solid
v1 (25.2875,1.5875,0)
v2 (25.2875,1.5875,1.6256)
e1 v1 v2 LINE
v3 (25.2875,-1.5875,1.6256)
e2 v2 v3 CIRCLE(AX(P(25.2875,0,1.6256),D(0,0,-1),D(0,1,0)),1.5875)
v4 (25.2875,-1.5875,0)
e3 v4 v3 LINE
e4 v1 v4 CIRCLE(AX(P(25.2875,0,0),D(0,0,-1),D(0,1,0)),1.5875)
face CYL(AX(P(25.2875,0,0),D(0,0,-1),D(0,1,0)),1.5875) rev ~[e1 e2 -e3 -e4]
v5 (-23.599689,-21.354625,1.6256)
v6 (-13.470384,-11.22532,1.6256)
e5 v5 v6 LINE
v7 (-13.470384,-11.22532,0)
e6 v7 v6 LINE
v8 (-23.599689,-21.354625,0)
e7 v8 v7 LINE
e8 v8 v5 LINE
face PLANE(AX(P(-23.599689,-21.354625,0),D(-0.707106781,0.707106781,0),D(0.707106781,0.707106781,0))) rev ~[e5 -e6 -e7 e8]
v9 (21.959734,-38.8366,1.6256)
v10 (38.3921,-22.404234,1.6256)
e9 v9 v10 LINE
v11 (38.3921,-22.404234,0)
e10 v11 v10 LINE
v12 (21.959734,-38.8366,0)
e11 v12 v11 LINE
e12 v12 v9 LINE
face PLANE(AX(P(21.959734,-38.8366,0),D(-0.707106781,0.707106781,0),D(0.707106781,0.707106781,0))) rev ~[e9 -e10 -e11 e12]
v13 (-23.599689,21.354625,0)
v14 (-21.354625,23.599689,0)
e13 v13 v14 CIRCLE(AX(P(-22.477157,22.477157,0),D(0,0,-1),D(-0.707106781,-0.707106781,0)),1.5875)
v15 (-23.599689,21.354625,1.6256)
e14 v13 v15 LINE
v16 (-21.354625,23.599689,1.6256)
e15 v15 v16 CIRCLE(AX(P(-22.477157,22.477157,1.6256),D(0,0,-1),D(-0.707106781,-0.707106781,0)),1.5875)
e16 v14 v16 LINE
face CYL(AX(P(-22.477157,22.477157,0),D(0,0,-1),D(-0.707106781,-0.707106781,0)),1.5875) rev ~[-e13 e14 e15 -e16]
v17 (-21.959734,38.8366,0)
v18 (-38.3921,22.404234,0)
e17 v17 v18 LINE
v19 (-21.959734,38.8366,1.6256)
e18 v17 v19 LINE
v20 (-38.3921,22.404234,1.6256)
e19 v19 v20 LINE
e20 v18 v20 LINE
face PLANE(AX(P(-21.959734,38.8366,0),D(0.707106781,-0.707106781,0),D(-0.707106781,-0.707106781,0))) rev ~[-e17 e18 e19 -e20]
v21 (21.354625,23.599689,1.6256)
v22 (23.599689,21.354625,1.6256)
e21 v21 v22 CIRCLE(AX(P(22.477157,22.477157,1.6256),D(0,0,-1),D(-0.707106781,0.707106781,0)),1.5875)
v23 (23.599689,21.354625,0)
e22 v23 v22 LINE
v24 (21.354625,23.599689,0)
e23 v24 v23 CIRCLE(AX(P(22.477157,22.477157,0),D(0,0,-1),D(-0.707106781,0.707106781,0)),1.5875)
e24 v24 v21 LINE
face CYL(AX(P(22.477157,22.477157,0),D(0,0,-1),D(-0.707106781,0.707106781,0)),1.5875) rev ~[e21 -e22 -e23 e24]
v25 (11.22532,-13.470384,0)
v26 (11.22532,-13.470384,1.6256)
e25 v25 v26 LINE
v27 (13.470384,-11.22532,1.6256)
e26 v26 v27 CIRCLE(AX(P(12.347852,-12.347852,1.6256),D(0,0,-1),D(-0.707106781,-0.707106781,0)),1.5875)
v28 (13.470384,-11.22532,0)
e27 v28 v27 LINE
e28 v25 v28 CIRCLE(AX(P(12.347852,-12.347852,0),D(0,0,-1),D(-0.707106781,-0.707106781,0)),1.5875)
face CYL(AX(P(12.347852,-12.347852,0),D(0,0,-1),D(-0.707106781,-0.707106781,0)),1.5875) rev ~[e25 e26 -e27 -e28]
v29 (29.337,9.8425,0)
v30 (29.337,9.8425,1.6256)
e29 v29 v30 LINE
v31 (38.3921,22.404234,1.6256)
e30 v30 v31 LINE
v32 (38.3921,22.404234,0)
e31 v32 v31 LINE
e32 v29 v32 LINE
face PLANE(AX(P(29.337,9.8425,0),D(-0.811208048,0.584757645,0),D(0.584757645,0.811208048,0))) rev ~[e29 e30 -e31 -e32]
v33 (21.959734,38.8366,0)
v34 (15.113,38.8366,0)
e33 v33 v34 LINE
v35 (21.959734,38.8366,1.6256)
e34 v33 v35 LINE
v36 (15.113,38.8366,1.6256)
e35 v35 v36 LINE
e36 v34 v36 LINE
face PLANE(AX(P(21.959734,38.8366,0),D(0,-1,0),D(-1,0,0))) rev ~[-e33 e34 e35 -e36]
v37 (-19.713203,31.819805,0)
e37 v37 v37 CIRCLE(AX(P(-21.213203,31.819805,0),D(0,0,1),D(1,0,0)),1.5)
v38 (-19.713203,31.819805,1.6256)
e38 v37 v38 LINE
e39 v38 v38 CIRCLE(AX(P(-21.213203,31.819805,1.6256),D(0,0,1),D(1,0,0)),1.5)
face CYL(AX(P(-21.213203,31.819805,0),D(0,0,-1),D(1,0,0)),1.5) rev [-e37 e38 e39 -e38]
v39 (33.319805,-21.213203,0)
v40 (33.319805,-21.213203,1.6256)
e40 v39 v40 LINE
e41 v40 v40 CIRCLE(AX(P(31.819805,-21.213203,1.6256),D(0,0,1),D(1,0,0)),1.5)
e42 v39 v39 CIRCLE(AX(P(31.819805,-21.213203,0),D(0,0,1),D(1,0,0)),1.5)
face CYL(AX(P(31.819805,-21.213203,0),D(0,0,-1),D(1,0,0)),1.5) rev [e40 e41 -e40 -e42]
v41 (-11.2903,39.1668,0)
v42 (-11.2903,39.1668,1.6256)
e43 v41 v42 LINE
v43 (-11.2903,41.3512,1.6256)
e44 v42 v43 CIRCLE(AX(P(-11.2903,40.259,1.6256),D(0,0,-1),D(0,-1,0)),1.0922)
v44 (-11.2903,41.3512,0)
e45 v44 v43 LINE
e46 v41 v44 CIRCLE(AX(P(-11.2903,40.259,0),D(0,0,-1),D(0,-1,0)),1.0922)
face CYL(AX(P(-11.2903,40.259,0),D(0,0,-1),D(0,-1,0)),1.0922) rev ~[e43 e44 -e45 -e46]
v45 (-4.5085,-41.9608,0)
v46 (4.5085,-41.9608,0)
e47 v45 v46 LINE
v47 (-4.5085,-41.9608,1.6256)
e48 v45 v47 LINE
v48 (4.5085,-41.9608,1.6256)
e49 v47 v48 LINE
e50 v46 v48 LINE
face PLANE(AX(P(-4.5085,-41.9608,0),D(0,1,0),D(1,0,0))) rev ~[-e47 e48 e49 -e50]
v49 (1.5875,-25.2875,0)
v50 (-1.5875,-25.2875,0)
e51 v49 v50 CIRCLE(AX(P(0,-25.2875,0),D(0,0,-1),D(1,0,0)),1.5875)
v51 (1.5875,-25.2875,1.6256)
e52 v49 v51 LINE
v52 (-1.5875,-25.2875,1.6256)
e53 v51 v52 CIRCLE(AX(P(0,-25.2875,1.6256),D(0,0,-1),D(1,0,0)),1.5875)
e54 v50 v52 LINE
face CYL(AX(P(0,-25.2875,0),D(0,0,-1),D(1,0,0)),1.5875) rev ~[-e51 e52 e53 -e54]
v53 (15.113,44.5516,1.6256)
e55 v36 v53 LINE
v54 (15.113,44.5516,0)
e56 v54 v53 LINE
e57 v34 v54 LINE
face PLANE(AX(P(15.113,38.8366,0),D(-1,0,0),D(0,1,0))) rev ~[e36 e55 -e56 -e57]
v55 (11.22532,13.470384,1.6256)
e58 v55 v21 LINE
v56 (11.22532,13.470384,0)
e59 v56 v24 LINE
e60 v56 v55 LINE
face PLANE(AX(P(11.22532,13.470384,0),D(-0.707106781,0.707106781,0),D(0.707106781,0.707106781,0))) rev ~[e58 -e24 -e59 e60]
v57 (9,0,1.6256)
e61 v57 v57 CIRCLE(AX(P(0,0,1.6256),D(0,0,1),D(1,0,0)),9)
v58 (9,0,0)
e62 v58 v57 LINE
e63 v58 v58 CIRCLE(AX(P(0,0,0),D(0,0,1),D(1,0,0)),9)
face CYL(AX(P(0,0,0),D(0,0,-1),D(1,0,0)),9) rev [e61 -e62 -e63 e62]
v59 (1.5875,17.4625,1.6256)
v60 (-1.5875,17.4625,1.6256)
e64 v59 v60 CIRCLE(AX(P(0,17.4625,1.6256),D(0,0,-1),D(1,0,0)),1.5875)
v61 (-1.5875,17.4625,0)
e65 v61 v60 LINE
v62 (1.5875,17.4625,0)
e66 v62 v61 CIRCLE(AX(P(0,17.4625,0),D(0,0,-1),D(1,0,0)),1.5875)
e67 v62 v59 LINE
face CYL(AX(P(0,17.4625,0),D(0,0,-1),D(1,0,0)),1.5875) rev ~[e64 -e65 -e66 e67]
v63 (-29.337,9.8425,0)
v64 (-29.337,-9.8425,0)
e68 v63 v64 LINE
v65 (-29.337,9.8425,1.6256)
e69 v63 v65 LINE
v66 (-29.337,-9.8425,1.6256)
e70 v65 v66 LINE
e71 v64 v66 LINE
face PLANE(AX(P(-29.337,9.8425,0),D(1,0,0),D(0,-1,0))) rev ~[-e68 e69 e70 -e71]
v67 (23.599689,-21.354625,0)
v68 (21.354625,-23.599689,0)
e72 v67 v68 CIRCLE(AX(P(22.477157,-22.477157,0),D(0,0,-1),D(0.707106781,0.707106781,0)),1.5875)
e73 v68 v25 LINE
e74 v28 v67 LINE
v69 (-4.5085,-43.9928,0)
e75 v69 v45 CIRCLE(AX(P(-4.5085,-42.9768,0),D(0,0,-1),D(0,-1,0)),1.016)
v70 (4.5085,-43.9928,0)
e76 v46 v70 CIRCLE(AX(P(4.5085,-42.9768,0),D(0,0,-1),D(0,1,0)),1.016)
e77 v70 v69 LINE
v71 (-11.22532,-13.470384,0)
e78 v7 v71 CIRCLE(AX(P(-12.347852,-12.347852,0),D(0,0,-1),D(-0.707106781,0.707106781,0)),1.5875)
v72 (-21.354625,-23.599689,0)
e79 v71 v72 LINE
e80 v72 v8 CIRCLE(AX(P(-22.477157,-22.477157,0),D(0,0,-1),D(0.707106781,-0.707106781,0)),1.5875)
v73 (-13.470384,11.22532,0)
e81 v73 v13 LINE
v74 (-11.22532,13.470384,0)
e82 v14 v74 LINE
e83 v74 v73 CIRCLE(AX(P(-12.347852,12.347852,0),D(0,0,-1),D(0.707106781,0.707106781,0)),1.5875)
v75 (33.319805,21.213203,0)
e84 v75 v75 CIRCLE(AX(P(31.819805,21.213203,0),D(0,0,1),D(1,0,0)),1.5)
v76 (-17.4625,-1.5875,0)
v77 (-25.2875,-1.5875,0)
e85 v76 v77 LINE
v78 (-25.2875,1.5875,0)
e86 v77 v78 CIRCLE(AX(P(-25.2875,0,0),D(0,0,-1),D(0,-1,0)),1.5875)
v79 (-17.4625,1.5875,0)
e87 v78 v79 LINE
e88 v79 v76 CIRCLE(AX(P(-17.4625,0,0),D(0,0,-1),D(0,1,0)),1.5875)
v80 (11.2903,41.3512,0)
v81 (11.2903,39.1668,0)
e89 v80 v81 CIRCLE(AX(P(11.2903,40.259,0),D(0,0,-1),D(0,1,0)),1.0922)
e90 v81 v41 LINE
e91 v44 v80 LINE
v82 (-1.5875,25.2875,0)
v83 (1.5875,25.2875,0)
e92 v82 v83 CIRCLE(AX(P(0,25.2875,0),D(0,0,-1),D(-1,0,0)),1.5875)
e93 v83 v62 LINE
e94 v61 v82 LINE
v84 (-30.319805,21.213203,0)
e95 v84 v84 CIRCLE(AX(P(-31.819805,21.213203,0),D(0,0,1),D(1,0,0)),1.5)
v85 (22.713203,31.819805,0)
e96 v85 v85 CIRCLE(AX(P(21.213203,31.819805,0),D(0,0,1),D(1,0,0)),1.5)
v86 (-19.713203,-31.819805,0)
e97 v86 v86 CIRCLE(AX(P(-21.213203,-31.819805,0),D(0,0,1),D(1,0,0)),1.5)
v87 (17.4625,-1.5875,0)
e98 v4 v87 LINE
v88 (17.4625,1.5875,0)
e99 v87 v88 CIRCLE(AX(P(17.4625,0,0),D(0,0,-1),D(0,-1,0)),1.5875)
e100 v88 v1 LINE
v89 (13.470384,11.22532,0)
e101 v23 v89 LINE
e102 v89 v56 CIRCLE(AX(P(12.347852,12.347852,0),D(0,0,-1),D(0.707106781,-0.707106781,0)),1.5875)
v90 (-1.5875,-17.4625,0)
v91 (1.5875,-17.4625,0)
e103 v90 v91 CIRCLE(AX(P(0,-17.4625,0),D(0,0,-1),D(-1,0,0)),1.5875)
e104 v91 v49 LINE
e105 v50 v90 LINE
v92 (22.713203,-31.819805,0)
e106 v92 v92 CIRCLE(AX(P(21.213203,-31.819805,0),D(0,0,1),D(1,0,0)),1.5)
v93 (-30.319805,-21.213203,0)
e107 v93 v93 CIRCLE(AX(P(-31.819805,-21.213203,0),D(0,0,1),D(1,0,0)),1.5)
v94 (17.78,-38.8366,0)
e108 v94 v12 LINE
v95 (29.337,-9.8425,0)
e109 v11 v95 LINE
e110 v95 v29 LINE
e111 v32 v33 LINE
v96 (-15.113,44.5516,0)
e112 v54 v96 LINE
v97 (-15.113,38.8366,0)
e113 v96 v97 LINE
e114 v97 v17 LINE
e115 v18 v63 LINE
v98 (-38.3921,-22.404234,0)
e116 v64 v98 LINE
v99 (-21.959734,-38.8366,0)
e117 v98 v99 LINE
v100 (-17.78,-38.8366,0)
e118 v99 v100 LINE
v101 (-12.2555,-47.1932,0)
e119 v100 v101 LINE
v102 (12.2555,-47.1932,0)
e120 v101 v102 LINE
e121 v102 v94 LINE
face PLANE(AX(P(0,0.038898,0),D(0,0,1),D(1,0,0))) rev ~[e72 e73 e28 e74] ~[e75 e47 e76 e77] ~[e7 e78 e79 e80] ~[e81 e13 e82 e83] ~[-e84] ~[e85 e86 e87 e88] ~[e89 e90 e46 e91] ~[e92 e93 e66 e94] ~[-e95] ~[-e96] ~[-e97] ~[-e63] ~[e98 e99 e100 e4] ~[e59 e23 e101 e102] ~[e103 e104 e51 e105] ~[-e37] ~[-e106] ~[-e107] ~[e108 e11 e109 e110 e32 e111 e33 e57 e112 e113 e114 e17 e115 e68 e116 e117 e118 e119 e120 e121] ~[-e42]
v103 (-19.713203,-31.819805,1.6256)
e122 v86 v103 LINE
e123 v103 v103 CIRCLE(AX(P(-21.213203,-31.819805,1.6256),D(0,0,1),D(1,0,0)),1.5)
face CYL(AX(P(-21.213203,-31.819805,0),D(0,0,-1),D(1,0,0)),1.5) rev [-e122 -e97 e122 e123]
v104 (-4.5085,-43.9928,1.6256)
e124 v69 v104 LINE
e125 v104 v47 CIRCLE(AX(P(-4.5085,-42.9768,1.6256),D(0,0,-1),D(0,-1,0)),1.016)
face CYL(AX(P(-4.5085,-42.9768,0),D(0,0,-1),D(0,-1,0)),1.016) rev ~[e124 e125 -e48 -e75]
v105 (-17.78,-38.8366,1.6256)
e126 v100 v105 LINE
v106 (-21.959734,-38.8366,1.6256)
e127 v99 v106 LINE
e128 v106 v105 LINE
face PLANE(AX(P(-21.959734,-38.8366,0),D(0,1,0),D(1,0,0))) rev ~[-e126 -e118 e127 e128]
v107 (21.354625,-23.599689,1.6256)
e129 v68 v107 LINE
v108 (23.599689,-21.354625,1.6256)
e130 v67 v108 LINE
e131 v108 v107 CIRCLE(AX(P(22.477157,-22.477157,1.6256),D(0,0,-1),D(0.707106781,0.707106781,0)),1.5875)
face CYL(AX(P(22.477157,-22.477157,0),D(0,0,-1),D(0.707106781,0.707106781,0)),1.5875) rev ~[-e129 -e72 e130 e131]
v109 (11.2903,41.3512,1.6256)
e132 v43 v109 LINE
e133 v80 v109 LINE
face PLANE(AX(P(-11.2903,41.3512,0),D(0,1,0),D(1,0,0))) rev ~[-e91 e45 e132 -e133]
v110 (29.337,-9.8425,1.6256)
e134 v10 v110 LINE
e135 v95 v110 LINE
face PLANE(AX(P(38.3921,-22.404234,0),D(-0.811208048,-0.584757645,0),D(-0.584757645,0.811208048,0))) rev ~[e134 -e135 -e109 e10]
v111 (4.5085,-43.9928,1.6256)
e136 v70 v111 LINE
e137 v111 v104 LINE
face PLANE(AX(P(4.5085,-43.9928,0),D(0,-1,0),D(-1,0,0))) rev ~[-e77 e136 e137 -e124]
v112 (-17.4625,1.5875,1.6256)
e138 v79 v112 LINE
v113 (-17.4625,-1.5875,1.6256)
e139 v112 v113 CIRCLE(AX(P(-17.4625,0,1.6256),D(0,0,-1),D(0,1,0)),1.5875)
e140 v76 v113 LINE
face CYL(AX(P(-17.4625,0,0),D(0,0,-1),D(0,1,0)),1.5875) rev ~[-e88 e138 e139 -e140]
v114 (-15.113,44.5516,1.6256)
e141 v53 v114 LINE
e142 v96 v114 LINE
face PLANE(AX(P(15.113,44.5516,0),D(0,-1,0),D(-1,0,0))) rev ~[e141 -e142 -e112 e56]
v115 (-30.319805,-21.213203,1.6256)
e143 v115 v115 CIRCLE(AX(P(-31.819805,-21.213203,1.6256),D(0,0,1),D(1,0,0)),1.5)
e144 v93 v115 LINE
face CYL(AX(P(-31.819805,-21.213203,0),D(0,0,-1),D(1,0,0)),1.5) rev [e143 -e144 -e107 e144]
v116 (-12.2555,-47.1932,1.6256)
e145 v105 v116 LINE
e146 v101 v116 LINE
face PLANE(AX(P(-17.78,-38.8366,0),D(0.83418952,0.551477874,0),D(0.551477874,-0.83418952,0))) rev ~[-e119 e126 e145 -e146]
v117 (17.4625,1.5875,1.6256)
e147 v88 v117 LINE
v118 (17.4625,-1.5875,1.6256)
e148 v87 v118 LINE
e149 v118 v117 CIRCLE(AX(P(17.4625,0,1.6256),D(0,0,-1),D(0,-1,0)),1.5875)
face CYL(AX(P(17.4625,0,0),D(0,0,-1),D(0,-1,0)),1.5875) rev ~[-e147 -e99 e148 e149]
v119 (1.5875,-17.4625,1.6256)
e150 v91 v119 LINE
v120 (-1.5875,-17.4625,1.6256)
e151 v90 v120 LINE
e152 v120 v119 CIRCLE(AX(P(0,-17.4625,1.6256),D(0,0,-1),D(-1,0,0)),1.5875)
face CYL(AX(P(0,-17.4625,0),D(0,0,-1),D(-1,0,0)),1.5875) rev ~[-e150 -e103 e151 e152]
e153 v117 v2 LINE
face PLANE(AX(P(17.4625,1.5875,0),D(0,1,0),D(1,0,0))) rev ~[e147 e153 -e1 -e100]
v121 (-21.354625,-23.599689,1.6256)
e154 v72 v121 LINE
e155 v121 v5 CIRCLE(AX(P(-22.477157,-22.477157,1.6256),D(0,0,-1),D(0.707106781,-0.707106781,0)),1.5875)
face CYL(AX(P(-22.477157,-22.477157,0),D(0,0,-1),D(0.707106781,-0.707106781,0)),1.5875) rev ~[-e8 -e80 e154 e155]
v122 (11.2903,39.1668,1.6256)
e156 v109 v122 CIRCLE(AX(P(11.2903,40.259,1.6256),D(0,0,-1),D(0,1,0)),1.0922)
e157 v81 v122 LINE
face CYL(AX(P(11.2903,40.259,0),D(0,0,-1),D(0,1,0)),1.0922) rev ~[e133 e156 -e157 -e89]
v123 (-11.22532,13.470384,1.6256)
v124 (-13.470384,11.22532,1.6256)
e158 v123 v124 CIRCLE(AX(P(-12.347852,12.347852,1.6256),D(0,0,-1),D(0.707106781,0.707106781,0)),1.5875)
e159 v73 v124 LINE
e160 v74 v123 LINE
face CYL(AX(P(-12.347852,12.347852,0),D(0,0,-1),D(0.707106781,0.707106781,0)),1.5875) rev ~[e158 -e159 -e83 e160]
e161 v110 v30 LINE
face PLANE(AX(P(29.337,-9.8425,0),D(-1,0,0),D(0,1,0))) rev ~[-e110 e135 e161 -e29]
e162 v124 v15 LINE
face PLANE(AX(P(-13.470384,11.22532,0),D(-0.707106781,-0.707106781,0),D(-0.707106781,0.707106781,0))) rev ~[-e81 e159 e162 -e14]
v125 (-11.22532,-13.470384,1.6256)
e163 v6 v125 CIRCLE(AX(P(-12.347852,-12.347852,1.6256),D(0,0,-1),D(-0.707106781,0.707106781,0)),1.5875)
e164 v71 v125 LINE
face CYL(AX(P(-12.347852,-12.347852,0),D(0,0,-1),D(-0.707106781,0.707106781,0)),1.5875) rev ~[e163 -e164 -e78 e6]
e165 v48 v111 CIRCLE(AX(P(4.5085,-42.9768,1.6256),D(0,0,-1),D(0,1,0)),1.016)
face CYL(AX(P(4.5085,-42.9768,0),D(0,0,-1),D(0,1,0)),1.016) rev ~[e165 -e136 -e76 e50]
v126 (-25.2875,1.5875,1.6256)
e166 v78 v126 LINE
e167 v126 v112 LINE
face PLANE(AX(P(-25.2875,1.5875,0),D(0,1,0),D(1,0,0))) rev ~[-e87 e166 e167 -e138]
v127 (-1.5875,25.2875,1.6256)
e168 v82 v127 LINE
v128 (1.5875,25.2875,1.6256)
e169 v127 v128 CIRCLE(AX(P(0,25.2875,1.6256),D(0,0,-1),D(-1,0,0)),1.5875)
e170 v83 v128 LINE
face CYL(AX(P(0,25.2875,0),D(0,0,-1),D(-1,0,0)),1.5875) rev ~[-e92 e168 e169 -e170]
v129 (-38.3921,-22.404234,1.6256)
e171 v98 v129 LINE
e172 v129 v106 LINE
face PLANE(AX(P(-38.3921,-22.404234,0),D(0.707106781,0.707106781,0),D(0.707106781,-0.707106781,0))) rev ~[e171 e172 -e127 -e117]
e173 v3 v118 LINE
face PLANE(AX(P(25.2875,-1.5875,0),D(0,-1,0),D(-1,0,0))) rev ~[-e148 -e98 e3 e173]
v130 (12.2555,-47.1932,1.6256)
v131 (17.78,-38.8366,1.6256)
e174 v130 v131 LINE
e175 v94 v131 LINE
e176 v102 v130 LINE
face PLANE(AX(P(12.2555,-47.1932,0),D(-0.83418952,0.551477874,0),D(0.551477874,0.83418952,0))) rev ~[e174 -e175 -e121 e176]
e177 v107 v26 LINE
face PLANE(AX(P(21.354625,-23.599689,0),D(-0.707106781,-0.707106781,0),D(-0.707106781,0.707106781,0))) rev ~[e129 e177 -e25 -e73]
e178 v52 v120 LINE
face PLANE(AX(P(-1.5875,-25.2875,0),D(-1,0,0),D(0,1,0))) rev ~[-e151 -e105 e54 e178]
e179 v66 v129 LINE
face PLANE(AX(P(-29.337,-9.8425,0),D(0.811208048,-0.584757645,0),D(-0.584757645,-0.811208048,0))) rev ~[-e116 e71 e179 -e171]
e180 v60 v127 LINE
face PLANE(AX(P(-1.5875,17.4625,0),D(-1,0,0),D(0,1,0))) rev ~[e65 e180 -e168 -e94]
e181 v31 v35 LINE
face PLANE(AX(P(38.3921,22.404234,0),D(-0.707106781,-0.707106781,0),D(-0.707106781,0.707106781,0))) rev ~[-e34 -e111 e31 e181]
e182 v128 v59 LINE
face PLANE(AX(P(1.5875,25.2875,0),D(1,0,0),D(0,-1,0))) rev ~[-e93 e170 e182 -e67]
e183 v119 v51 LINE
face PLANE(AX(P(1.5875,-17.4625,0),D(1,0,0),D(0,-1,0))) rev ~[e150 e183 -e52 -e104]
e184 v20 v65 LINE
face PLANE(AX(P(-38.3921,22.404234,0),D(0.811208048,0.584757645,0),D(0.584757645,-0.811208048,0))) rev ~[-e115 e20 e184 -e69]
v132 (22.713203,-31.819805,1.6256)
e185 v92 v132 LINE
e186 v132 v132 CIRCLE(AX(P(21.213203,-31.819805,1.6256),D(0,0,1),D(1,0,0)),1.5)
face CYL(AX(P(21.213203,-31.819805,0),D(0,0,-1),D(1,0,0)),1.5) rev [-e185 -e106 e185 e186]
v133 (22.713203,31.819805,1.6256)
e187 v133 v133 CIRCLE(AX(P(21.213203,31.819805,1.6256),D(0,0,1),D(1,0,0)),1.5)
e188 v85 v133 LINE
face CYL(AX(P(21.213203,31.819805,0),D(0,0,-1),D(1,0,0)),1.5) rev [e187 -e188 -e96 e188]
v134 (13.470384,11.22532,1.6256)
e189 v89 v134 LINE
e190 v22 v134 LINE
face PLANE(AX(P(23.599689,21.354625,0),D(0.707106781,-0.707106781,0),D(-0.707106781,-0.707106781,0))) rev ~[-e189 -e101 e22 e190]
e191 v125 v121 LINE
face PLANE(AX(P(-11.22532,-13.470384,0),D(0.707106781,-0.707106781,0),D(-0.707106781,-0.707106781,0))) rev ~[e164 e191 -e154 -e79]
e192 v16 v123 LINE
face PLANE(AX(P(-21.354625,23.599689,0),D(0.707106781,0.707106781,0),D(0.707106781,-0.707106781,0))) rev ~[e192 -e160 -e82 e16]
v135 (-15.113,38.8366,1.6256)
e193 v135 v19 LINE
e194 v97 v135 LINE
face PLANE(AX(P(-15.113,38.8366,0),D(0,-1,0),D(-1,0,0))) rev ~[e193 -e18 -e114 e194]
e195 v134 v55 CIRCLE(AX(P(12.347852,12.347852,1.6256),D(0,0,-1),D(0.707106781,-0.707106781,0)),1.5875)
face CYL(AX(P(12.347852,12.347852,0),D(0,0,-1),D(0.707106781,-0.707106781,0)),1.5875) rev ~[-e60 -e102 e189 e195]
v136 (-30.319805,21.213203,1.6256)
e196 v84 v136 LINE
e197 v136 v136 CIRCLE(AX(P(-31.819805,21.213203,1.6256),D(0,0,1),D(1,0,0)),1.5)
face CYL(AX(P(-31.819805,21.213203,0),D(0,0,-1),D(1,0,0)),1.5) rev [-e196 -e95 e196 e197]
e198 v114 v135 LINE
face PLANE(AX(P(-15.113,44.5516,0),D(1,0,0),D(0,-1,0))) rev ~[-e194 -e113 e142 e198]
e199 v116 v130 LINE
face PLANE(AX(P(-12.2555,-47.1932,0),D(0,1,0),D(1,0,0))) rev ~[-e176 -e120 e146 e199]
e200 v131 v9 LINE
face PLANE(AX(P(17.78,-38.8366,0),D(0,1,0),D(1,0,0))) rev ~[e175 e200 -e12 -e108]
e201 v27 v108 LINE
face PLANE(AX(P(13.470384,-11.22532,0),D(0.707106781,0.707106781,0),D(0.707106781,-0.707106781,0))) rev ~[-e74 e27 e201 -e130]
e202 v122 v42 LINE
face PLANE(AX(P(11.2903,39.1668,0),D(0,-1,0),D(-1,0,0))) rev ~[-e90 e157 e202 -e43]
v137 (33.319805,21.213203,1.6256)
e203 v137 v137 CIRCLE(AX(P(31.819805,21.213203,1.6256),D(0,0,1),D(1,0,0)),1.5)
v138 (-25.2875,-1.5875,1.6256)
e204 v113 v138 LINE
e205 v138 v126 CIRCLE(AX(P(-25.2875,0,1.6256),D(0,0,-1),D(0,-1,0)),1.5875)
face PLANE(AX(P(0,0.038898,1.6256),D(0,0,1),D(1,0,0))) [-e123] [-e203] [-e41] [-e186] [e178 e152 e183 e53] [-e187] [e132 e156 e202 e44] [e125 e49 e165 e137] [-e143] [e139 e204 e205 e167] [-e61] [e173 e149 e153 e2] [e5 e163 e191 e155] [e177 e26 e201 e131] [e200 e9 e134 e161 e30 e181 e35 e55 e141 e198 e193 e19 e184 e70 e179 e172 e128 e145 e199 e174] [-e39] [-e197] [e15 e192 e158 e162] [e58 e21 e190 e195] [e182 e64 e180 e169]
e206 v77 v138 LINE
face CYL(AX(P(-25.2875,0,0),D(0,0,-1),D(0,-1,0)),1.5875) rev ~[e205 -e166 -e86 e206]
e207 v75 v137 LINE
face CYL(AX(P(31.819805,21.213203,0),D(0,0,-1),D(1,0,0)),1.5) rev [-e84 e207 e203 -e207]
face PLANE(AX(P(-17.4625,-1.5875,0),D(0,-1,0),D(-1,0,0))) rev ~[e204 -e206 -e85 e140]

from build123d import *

# Parameters (mm, degrees)
F0_R     = 1.5
F0_R_2   = 9
F1_DEPTH = 1.6256


with BuildPart() as f1:
    # F0 (on Top) → F1 (new body)
    with BuildSketch(Plane.XY):
        Polygon((-29.337, 9.8425), (-29.337, -9.8425), (-38.3921, -22.404234), (-21.959734, -38.8366), (-17.78, -38.8366), (-12.2555, -47.1932), (0, -47.1932), (12.2555, -47.1932), (17.78, -38.8366), (21.959734, -38.8366), (38.3921, -22.404234), (29.337, -9.8425), (29.337, 9.8425), (38.3921, 22.404234), (21.959734, 38.8366), (15.113, 38.8366), (15.113, 44.5516), (0, 44.5516), (-15.113, 44.5516), (-15.113, 38.8366), (-21.959734, 38.8366), (-38.3921, 22.404234), align=None)
        with Locations((-21.213203, -31.819805)):
            Circle(F0_R, mode=Mode.SUBTRACT)
        with Locations((-31.819805, -21.213203)):
            Circle(F0_R, mode=Mode.SUBTRACT)
        with BuildLine():
            ThreePointArc((-21.354625, -23.599689), (-23.599689, -23.599689), (-23.599689, -21.354625))
            Line((-23.599689, -21.354625), (-13.470384, -11.22532))
            ThreePointArc((-13.470384, -11.22532), (-11.22532, -11.22532), (-11.22532, -13.470384))
            Line((-11.22532, -13.470384), (-21.354625, -23.599689))
        make_face(mode=Mode.SUBTRACT)
        with BuildLine():
            ThreePointArc((-4.5085, -43.9928), (-5.5245, -42.9768), (-4.5085, -41.9608))
            Line((-4.5085, -41.9608), (4.5085, -41.9608))
            ThreePointArc((4.5085, -41.9608), (5.5245, -42.9768), (4.5085, -43.9928))
            Line((4.5085, -43.9928), (-4.5085, -43.9928))
        make_face(mode=Mode.SUBTRACT)
        with Locations((21.213203, -31.819805)):
            Circle(F0_R, mode=Mode.SUBTRACT)
        with BuildLine():
            Line((1.5875, -17.4625), (1.5875, -25.2875))
            ThreePointArc((1.5875, -25.2875), (0, -26.875), (-1.5875, -25.2875))
            Line((-1.5875, -25.2875), (-1.5875, -17.4625))
            ThreePointArc((-1.5875, -17.4625), (0, -15.875), (1.5875, -17.4625))
        make_face(mode=Mode.SUBTRACT)
        with BuildLine():
            ThreePointArc((23.599689, -21.354625), (23.599689, -23.599689), (21.354625, -23.599689))
            Line((21.354625, -23.599689), (11.22532, -13.470384))
            ThreePointArc((11.22532, -13.470384), (11.22532, -11.22532), (13.470384, -11.22532))
            Line((13.470384, -11.22532), (23.599689, -21.354625))
        make_face(mode=Mode.SUBTRACT)
        with Locations((31.819805, -21.213203)):
            Circle(F0_R, mode=Mode.SUBTRACT)
        with BuildLine():
            Line((-17.4625, -1.5875), (-25.2875, -1.5875))
            ThreePointArc((-25.2875, -1.5875), (-26.875, 0), (-25.2875, 1.5875))
            Line((-25.2875, 1.5875), (-17.4625, 1.5875))
            ThreePointArc((-17.4625, 1.5875), (-15.875, 0), (-17.4625, -1.5875))
        make_face(mode=Mode.SUBTRACT)
        with Locations((-31.819805, 21.213203)):
            Circle(F0_R, mode=Mode.SUBTRACT)
        with BuildLine():
            Line((-13.470384, 11.22532), (-23.599689, 21.354625))
            ThreePointArc((-23.599689, 21.354625), (-23.599689, 23.599689), (-21.354625, 23.599689))
            Line((-21.354625, 23.599689), (-11.22532, 13.470384))
            ThreePointArc((-11.22532, 13.470384), (-11.22532, 11.22532), (-13.470384, 11.22532))
        make_face(mode=Mode.SUBTRACT)
        with Locations((-21.213203, 31.819805)):
            Circle(F0_R, mode=Mode.SUBTRACT)
        Circle(F0_R_2, mode=Mode.SUBTRACT)
        with BuildLine():
            Line((-1.5875, 17.4625), (-1.5875, 25.2875))
            ThreePointArc((-1.5875, 25.2875), (0, 26.875), (1.5875, 25.2875))
            Line((1.5875, 25.2875), (1.5875, 17.4625))
            ThreePointArc((1.5875, 17.4625), (0, 15.875), (-1.5875, 17.4625))
        make_face(mode=Mode.SUBTRACT)
        with BuildLine():
            ThreePointArc((21.354625, 23.599689), (23.599689, 23.599689), (23.599689, 21.354625))
            Line((23.599689, 21.354625), (13.470384, 11.22532))
            ThreePointArc((13.470384, 11.22532), (11.22532, 11.22532), (11.22532, 13.470384))
            Line((11.22532, 13.470384), (21.354625, 23.599689))
        make_face(mode=Mode.SUBTRACT)
        with BuildLine():
            Line((17.4625, 1.5875), (25.2875, 1.5875))
            ThreePointArc((25.2875, 1.5875), (26.875, 0), (25.2875, -1.5875))
            Line((25.2875, -1.5875), (17.4625, -1.5875))
            ThreePointArc((17.4625, -1.5875), (15.875, 0), (17.4625, 1.5875))
        make_face(mode=Mode.SUBTRACT)
        with Locations((31.819805, 21.213203)):
            Circle(F0_R, mode=Mode.SUBTRACT)
        with BuildLine():
            ThreePointArc((-11.2903, 39.1668), (-12.3825, 40.259), (-11.2903, 41.3512))
            Line((-11.2903, 41.3512), (11.2903, 41.3512))
            ThreePointArc((11.2903, 41.3512), (12.3825, 40.259), (11.2903, 39.1668))
            Line((11.2903, 39.1668), (-11.2903, 39.1668))
        make_face(mode=Mode.SUBTRACT)
        with Locations((21.213203, 31.819805)):
            Circle(F0_R, mode=Mode.SUBTRACT)
    extrude(amount=F1_DEPTH)


solid = f1.part
